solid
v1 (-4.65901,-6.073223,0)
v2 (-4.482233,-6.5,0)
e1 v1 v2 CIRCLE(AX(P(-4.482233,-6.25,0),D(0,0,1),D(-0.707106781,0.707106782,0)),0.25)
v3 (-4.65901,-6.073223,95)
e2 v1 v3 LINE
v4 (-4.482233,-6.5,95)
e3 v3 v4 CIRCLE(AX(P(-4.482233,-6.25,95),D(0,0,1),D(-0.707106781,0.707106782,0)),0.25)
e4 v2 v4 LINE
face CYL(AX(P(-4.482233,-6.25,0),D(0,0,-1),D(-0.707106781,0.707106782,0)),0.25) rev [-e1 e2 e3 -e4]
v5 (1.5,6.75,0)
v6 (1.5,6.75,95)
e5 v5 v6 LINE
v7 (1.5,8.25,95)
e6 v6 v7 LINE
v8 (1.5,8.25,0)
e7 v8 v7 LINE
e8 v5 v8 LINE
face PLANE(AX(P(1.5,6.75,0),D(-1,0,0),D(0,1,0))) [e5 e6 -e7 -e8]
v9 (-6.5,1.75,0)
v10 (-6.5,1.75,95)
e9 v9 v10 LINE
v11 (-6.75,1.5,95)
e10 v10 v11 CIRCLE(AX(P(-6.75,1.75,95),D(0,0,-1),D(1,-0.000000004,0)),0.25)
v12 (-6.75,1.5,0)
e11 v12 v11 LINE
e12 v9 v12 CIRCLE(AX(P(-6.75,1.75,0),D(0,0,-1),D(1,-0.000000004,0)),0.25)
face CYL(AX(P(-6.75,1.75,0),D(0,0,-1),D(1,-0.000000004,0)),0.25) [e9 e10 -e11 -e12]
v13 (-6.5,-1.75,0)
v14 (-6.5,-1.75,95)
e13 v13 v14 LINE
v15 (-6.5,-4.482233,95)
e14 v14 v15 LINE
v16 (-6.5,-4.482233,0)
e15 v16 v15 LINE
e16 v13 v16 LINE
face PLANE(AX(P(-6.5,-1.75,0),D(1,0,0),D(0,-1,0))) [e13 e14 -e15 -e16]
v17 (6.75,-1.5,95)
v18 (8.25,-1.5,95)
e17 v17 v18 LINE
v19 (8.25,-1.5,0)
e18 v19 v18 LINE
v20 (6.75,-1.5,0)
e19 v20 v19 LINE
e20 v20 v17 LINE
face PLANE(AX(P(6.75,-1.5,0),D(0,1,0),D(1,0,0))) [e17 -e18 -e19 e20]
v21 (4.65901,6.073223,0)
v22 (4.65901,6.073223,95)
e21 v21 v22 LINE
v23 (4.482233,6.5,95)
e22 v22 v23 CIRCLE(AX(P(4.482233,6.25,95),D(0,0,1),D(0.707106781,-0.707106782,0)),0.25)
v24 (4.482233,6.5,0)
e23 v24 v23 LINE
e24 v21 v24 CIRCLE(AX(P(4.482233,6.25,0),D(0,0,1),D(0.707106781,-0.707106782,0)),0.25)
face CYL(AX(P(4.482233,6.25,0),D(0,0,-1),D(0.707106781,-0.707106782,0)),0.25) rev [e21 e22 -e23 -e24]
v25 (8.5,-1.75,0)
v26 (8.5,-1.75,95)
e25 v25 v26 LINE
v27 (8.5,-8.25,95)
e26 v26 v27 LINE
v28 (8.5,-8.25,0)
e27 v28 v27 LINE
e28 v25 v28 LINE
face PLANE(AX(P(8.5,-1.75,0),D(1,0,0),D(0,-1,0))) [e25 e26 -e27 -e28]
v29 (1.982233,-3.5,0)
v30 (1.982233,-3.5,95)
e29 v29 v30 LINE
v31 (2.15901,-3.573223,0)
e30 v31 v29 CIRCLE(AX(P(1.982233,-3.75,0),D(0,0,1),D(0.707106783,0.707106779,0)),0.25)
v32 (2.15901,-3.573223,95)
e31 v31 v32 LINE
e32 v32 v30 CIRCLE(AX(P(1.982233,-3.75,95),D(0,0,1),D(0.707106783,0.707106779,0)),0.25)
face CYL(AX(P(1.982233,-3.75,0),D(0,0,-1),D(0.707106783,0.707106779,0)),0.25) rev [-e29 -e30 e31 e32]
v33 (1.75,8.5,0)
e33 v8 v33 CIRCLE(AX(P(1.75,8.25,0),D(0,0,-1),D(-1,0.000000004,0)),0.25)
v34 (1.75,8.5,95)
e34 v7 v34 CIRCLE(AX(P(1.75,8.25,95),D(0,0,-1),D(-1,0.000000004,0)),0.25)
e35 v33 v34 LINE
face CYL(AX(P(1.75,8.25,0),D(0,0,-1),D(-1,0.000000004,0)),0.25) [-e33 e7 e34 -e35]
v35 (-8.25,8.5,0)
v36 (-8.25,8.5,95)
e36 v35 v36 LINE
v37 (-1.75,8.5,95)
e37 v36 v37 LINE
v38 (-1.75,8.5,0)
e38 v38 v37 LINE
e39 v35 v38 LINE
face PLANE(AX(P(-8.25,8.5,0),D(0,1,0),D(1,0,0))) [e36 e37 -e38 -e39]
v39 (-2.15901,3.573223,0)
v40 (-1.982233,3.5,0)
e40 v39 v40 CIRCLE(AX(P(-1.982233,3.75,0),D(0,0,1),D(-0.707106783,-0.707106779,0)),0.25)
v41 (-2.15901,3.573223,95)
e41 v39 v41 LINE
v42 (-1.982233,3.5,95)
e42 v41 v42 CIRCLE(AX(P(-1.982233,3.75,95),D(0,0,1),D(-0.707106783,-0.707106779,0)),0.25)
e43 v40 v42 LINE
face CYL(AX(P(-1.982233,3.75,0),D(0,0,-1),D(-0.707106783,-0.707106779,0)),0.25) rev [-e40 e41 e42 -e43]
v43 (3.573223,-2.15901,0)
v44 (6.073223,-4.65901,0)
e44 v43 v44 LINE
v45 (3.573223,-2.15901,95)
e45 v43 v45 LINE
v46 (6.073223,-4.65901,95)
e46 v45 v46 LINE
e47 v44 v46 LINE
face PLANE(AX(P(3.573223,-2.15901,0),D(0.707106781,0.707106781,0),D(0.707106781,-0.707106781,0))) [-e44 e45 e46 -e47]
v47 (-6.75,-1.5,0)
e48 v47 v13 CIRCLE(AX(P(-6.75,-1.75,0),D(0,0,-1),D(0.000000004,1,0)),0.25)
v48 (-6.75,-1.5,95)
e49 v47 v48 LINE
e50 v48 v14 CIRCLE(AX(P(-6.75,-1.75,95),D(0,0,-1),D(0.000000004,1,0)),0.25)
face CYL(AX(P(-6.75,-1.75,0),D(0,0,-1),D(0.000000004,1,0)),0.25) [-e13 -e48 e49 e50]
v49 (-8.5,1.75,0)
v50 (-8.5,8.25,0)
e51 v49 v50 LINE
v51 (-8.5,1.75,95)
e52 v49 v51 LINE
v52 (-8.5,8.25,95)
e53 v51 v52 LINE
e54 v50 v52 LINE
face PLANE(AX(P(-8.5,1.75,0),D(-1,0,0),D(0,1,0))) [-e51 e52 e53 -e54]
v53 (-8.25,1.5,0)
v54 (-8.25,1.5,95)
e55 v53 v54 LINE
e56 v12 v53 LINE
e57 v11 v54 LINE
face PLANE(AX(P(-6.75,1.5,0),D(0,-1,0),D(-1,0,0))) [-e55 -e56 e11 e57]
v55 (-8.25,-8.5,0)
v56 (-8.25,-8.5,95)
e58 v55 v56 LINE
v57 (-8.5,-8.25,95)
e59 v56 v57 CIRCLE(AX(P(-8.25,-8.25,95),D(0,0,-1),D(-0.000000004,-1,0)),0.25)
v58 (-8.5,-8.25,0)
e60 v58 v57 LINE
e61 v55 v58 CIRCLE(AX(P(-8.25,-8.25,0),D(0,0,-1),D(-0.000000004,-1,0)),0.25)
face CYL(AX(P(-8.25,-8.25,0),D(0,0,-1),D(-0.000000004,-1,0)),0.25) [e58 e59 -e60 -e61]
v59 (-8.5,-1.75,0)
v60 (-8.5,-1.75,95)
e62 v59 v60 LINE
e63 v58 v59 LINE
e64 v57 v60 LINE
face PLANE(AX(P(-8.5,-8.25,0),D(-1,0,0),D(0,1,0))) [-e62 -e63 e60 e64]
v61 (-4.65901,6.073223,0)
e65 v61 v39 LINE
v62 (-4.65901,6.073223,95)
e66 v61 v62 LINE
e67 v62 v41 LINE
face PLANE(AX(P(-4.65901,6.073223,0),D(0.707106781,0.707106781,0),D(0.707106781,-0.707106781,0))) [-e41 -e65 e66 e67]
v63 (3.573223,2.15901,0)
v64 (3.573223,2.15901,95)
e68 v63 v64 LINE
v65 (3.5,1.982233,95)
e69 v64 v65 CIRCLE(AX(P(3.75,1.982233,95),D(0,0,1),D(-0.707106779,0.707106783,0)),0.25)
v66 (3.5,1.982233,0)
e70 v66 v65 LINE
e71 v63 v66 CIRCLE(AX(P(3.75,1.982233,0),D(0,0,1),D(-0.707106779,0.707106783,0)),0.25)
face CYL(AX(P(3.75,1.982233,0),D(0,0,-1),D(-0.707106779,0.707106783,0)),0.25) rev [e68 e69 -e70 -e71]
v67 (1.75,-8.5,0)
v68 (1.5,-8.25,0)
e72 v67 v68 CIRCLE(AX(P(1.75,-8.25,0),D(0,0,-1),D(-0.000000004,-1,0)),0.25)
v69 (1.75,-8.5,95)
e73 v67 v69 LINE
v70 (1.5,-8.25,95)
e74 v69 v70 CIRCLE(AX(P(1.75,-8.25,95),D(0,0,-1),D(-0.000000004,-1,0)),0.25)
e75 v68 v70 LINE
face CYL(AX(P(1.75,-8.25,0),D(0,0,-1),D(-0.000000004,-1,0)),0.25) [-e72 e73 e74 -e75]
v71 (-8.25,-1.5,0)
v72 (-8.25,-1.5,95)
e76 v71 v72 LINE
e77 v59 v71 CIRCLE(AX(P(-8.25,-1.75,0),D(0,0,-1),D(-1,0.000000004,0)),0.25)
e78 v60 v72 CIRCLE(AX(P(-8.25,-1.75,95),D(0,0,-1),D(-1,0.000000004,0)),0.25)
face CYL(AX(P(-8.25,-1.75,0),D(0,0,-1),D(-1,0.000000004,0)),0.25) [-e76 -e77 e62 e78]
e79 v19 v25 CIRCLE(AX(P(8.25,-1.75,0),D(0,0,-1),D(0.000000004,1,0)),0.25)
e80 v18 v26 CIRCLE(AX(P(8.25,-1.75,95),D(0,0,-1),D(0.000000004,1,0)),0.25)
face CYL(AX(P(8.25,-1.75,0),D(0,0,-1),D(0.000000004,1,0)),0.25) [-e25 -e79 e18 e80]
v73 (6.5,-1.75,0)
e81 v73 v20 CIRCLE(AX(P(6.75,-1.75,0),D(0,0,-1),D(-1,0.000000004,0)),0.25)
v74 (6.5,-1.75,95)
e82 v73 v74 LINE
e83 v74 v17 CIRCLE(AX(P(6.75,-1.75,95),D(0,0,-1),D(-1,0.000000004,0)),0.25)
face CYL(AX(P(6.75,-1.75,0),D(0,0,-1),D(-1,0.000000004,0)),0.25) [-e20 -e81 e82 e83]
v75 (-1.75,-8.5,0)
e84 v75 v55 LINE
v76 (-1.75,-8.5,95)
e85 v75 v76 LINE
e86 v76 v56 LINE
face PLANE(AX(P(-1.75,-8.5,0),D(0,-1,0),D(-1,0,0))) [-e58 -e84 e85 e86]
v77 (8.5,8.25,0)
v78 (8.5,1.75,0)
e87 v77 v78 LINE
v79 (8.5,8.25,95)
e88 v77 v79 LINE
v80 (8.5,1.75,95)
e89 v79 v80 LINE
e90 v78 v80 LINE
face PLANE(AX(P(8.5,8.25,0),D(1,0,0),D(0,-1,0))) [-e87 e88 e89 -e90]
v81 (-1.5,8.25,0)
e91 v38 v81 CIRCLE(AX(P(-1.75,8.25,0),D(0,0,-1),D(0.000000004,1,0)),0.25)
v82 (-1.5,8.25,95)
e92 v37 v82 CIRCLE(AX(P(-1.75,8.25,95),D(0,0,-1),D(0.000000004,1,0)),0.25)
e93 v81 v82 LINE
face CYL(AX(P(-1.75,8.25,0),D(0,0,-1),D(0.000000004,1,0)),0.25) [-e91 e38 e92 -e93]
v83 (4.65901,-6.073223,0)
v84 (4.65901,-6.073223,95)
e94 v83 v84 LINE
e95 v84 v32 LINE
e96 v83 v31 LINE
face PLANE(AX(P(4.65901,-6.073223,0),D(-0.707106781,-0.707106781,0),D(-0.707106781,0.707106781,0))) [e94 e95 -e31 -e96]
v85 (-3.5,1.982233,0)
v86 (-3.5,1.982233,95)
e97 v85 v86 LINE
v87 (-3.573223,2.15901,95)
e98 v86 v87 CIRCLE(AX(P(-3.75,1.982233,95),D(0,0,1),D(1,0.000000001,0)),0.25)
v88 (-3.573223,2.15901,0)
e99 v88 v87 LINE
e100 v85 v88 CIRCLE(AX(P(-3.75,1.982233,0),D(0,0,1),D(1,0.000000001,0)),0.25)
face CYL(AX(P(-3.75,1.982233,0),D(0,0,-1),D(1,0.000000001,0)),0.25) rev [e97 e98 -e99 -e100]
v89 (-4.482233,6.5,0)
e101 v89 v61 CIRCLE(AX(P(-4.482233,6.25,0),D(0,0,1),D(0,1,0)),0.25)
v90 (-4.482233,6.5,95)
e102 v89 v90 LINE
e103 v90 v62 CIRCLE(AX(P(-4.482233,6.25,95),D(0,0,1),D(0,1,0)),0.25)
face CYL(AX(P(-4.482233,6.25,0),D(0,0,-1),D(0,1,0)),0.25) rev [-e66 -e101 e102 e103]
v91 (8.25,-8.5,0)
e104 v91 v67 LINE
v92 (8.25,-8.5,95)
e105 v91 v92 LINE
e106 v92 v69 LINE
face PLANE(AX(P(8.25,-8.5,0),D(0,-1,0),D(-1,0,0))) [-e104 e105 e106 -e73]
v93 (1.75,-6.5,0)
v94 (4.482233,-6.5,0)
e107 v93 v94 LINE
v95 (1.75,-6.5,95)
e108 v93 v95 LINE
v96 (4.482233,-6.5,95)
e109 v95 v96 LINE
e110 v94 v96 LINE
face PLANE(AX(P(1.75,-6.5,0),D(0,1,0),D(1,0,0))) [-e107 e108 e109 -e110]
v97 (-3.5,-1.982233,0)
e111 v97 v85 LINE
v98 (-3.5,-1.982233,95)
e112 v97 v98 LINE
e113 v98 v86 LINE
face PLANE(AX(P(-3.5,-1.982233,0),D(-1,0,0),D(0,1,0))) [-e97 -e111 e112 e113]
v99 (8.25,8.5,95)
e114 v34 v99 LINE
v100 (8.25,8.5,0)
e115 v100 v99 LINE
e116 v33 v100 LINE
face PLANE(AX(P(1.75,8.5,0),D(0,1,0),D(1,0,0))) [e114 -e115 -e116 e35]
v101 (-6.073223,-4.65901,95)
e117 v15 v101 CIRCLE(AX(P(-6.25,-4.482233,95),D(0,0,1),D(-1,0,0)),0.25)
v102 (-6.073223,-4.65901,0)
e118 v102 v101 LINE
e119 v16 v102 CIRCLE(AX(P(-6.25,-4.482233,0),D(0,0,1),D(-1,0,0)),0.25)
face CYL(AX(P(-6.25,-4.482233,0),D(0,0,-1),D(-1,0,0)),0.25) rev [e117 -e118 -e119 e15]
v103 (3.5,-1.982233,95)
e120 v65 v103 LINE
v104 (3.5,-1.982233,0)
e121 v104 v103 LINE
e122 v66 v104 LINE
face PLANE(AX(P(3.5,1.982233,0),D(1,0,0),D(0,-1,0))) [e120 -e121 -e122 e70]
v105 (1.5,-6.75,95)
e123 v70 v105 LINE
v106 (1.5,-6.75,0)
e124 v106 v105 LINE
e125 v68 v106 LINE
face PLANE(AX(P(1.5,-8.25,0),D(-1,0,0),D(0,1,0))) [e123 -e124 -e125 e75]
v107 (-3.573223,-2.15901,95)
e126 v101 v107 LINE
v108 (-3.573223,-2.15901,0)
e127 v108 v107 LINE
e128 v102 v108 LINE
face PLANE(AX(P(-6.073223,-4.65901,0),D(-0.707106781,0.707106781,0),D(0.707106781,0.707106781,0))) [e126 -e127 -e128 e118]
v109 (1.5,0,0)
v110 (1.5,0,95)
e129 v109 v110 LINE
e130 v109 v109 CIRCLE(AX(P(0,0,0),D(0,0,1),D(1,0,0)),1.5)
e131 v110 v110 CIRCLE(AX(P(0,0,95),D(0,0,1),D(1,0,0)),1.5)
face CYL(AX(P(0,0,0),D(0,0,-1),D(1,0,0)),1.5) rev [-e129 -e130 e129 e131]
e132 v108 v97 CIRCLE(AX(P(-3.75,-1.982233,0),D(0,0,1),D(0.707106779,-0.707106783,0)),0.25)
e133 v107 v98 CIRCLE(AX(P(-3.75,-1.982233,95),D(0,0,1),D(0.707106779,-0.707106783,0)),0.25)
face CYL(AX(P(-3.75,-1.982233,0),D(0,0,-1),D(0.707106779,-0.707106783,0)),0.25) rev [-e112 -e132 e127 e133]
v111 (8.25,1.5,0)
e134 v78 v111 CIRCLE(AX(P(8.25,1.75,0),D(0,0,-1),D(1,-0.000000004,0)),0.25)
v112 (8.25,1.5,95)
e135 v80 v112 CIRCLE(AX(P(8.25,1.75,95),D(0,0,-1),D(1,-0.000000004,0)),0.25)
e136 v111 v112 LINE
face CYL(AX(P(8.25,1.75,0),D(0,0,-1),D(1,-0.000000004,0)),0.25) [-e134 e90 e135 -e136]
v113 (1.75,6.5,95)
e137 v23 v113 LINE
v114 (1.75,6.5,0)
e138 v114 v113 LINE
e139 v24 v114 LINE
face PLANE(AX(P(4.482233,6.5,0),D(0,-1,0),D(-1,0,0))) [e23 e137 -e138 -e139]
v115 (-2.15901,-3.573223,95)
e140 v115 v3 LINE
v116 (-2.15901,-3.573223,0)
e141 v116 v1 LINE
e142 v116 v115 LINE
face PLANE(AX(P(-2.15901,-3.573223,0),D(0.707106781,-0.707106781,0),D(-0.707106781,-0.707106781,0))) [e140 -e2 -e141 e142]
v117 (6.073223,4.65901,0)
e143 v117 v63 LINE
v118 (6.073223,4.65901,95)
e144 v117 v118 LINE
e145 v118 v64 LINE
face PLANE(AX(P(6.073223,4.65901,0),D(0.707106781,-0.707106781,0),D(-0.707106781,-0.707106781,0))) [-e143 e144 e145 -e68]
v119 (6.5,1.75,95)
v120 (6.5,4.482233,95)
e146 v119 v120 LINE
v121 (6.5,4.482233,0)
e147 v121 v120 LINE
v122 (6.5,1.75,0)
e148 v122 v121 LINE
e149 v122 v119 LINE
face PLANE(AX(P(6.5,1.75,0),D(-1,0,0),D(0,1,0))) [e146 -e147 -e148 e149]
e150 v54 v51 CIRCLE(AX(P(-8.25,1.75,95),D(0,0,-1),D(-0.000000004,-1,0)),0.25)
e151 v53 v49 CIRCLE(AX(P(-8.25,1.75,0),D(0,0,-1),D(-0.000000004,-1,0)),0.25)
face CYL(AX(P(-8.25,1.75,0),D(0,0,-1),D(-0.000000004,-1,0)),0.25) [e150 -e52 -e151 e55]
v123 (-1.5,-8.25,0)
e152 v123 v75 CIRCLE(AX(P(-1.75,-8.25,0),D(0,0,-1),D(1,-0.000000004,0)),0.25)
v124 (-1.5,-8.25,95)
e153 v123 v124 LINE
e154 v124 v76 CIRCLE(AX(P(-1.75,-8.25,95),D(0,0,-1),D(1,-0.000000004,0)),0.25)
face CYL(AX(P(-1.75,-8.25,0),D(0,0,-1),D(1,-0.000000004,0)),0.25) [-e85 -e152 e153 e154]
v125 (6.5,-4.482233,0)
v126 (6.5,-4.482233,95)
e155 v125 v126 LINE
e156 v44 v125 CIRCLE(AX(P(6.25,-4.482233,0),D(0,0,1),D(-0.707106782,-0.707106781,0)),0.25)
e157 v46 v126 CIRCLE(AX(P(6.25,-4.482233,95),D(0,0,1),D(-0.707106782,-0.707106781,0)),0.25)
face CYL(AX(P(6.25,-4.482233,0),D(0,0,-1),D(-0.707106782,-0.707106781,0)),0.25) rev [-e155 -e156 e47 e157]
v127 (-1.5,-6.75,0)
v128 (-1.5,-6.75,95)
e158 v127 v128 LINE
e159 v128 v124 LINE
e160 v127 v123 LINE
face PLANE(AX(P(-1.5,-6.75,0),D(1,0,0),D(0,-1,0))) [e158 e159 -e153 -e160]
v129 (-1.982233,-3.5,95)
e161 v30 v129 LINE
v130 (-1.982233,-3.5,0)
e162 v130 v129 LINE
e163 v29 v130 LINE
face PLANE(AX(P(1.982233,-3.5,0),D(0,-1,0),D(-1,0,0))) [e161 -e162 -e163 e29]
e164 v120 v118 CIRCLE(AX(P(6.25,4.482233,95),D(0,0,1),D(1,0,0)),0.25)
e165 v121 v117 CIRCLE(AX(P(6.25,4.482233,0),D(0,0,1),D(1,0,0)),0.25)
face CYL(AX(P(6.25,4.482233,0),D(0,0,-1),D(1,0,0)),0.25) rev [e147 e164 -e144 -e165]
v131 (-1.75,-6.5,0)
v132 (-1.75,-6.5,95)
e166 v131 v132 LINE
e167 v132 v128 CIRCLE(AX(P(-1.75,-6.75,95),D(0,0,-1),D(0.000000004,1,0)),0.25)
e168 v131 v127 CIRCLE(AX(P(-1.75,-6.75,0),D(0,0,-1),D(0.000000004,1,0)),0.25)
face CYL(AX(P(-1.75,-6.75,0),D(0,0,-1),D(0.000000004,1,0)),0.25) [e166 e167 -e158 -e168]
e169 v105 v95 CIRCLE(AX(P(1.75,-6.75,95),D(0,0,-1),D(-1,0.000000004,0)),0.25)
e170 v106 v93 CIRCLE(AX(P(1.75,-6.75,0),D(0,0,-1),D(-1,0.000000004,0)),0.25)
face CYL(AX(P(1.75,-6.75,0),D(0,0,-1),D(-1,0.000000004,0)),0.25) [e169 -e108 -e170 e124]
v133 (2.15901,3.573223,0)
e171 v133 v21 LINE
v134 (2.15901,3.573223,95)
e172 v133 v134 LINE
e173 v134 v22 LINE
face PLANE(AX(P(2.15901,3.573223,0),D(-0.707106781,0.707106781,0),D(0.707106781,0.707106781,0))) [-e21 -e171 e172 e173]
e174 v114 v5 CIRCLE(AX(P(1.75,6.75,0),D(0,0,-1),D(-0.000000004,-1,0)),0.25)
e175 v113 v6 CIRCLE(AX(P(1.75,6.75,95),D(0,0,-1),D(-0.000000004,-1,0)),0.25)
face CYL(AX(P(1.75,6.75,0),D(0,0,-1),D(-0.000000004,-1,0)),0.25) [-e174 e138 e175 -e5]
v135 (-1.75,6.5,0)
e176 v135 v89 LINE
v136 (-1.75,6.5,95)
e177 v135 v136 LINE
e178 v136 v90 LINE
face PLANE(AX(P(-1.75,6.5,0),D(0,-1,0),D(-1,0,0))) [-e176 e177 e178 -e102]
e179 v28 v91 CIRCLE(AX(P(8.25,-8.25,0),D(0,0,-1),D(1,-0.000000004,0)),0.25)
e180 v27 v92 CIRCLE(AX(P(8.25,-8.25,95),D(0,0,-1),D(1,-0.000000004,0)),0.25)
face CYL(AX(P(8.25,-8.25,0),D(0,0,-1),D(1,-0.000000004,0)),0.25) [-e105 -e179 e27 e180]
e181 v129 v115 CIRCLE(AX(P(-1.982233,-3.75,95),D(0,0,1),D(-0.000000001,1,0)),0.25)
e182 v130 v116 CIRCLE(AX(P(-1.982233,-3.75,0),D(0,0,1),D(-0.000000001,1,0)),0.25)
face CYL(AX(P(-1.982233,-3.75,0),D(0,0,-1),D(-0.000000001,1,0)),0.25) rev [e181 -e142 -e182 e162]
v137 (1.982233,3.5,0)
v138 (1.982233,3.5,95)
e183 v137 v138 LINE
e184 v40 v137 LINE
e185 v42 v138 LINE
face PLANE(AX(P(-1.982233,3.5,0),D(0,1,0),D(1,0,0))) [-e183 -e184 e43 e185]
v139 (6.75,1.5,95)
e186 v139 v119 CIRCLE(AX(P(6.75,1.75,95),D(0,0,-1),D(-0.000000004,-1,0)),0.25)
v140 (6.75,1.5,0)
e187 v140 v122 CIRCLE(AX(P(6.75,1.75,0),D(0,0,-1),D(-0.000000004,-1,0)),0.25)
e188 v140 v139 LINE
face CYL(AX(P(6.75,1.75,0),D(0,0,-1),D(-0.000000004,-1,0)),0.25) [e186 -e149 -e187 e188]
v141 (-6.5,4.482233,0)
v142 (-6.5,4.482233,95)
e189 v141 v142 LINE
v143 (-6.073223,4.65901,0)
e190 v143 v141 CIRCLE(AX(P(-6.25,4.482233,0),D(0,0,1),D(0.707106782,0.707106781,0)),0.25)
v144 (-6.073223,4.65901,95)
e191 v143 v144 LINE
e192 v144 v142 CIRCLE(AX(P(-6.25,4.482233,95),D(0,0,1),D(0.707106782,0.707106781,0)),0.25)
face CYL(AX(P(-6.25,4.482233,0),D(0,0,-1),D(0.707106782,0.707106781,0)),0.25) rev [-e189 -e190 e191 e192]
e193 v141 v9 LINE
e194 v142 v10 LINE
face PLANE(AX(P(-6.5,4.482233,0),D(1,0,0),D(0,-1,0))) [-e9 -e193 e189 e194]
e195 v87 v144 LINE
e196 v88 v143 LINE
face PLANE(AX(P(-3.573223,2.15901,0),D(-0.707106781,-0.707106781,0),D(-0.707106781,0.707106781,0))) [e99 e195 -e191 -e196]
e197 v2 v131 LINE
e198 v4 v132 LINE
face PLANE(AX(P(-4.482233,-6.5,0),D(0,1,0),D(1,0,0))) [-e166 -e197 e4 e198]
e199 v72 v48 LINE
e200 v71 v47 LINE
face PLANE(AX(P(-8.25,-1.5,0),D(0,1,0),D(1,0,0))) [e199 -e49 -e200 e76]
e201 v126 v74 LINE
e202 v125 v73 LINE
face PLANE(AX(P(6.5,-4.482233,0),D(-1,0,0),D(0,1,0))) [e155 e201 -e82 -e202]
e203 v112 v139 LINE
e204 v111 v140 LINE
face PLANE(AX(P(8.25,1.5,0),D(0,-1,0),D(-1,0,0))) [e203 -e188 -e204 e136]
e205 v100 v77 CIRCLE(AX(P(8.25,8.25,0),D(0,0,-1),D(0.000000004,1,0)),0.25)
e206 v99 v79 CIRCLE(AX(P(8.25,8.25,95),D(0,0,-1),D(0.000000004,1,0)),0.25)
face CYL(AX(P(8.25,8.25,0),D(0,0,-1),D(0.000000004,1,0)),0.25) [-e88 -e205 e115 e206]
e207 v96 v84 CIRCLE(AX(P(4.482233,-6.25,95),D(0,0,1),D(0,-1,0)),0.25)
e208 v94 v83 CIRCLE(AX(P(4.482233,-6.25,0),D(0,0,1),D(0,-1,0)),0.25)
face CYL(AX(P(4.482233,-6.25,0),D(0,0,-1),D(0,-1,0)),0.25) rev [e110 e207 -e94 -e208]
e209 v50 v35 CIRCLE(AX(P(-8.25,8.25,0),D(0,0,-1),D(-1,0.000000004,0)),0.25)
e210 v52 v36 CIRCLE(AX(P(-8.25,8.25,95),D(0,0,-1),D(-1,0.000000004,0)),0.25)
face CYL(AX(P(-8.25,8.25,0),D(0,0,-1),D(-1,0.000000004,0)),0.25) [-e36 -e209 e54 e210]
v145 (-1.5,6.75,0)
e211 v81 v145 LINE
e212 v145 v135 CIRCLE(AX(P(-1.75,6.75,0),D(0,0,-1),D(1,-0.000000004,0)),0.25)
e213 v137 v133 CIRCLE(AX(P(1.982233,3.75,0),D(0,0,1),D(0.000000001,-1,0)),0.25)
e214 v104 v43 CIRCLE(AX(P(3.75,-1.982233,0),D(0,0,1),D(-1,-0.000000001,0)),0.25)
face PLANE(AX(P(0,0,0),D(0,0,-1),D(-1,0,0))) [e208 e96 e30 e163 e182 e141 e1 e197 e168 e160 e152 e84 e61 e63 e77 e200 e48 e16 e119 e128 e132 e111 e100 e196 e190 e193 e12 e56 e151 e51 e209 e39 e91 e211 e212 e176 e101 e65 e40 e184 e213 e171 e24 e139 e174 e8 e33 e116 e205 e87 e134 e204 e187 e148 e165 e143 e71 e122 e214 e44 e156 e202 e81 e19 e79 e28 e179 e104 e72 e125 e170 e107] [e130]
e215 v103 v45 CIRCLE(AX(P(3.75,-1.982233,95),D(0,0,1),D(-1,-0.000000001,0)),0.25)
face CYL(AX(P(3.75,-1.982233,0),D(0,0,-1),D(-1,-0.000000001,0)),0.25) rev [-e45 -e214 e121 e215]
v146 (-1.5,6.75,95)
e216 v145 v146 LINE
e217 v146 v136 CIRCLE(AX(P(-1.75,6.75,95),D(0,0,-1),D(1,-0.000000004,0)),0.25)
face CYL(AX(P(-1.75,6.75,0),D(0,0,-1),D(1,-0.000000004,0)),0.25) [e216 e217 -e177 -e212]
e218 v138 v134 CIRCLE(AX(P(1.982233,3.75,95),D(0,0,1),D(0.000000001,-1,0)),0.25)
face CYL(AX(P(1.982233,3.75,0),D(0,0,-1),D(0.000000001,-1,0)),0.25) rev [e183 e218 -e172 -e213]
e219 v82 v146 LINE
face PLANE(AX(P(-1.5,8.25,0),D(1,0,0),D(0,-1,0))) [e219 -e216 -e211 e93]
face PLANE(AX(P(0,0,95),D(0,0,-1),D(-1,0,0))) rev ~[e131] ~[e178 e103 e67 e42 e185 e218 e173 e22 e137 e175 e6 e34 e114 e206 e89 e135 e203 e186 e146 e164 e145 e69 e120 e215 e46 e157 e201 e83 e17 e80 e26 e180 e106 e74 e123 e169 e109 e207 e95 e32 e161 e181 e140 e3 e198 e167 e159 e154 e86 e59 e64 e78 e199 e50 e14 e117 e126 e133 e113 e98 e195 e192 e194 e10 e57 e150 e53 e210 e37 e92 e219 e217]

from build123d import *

# Parameters (mm, degrees)
SKETCH1_R           = 1.5
BOSS_EXTRUDE1_DEPTH = 95


with BuildPart() as part:
    # Sketch1 → Boss-Extrude1 (new body)
    with BuildSketch(Plane.XY):
        with BuildLine():
            Line((1.5, -8.25), (1.5, -6.75))
            ThreePointArc((1.5, -6.75), (1.573223305, -6.573223305), (1.75, -6.5))
            Line((1.75, -6.5), (4.482233047, -6.5))
            ThreePointArc((4.482233047, -6.5), (4.71320293, -6.345670858), (4.659009742, -6.073223305))
            Line((4.659009742, -6.073223305), (2.159009742, -3.573223305))
            ThreePointArc((2.159009742, -3.573223305), (2.077903905, -3.519030117), (1.982233047, -3.5))
            Line((1.982233047, -3.5), (-1.982233047, -3.5))
            ThreePointArc((-1.982233047, -3.5), (-2.077903905, -3.519030117), (-2.159009742, -3.573223305))
            Line((-2.159009742, -3.573223305), (-4.659009742, -6.073223305))
            ThreePointArc((-4.659009742, -6.073223305), (-4.71320293, -6.345670858), (-4.482233047, -6.5))
            Line((-4.482233047, -6.5), (-1.75, -6.5))
            ThreePointArc((-1.75, -6.5), (-1.573223305, -6.573223305), (-1.5, -6.75))
            Line((-1.5, -6.75), (-1.5, -8.25))
            ThreePointArc((-1.5, -8.25), (-1.573223305, -8.426776695), (-1.75, -8.5))
            Line((-1.75, -8.5), (-8.25, -8.5))
            ThreePointArc((-8.25, -8.5), (-8.426776695, -8.426776695), (-8.5, -8.25))
            Line((-8.5, -8.25), (-8.5, -1.75))
            ThreePointArc((-8.5, -1.75), (-8.426776695, -1.573223305), (-8.25, -1.5))
            Line((-8.25, -1.5), (-6.75, -1.5))
            ThreePointArc((-6.75, -1.5), (-6.573223305, -1.573223305), (-6.5, -1.75))
            Line((-6.5, -1.75), (-6.5, -4.482233047))
            ThreePointArc((-6.5, -4.482233047), (-6.345670858, -4.71320293), (-6.073223305, -4.659009742))
            Line((-6.073223305, -4.659009742), (-3.573223305, -2.159009742))
            ThreePointArc((-3.573223305, -2.159009742), (-3.519030117, -2.077903905), (-3.5, -1.982233047))
            Line((-3.5, -1.982233047), (-3.5, 1.982233047))
            ThreePointArc((-3.5, 1.982233047), (-3.519030117, 2.077903905), (-3.573223305, 2.159009742))
            Line((-3.573223305, 2.159009742), (-6.073223305, 4.659009742))
            ThreePointArc((-6.073223305, 4.659009742), (-6.345670858, 4.71320293), (-6.5, 4.482233047))
            Line((-6.5, 4.482233047), (-6.5, 1.75))
            ThreePointArc((-6.5, 1.75), (-6.573223305, 1.573223305), (-6.75, 1.5))
            Line((-6.75, 1.5), (-8.25, 1.5))
            ThreePointArc((-8.25, 1.5), (-8.426776695, 1.573223305), (-8.5, 1.75))
            Line((-8.5, 1.75), (-8.5, 8.25))
            ThreePointArc((-8.5, 8.25), (-8.426776695, 8.426776695), (-8.25, 8.5))
            Line((-8.25, 8.5), (-1.75, 8.5))
            ThreePointArc((-1.75, 8.5), (-1.573223305, 8.426776695), (-1.5, 8.25))
            Line((-1.5, 8.25), (-1.5, 6.75))
            ThreePointArc((-1.5, 6.75), (-1.573223305, 6.573223305), (-1.75, 6.5))
            Line((-1.75, 6.5), (-4.482233047, 6.5))
            ThreePointArc((-4.482233047, 6.5), (-4.71320293, 6.345670858), (-4.659009742, 6.073223305))
            Line((-4.659009742, 6.073223305), (-2.159009742, 3.573223305))
            ThreePointArc((-2.159009742, 3.573223305), (-2.077903905, 3.519030117), (-1.982233047, 3.5))
            Line((-1.982233047, 3.5), (1.982233047, 3.5))
            ThreePointArc((1.982233047, 3.5), (2.077903905, 3.519030117), (2.159009742, 3.573223305))
            Line((2.159009742, 3.573223305), (4.659009742, 6.073223305))
            ThreePointArc((4.659009742, 6.073223305), (4.71320293, 6.345670858), (4.482233047, 6.5))
            Line((4.482233047, 6.5), (1.75, 6.5))
            ThreePointArc((1.75, 6.5), (1.573223305, 6.573223305), (1.5, 6.75))
            Line((1.5, 6.75), (1.5, 8.25))
            ThreePointArc((1.5, 8.25), (1.573223305, 8.426776695), (1.75, 8.5))
            Line((1.75, 8.5), (8.25, 8.5))
            ThreePointArc((8.25, 8.5), (8.426776695, 8.426776695), (8.5, 8.25))
            Line((8.5, 8.25), (8.5, 1.75))
            ThreePointArc((8.5, 1.75), (8.426776695, 1.573223305), (8.25, 1.5))
            Line((8.25, 1.5), (6.75, 1.5))
            ThreePointArc((6.75, 1.5), (6.573223305, 1.573223305), (6.5, 1.75))
            Line((6.5, 1.75), (6.5, 4.482233047))
            ThreePointArc((6.5, 4.482233047), (6.345670858, 4.71320293), (6.073223305, 4.659009742))
            Line((6.073223305, 4.659009742), (3.573223305, 2.159009742))
            ThreePointArc((3.573223305, 2.159009742), (3.519030117, 2.077903905), (3.5, 1.982233047))
            Line((3.5, 1.982233047), (3.5, -1.982233047))
            ThreePointArc((3.5, -1.982233047), (3.519030117, -2.077903905), (3.573223305, -2.159009742))
            Line((3.573223305, -2.159009742), (6.073223305, -4.659009742))
            ThreePointArc((6.073223305, -4.659009742), (6.345670858, -4.71320293), (6.5, -4.482233047))
            Line((6.5, -4.482233047), (6.5, -1.75))
            ThreePointArc((6.5, -1.75), (6.573223305, -1.573223305), (6.75, -1.5))
            Line((6.75, -1.5), (8.25, -1.5))
            ThreePointArc((8.25, -1.5), (8.426776695, -1.573223305), (8.5, -1.75))
            Line((8.5, -1.75), (8.5, -8.25))
            ThreePointArc((8.5, -8.25), (8.426776695, -8.426776695), (8.25, -8.5))
            Line((8.25, -8.5), (1.75, -8.5))
            ThreePointArc((1.75, -8.5), (1.573223305, -8.426776695), (1.5, -8.25))
        make_face()
        Circle(SKETCH1_R, mode=Mode.SUBTRACT)
    extrude(amount=BOSS_EXTRUDE1_DEPTH)


solid = part.part
